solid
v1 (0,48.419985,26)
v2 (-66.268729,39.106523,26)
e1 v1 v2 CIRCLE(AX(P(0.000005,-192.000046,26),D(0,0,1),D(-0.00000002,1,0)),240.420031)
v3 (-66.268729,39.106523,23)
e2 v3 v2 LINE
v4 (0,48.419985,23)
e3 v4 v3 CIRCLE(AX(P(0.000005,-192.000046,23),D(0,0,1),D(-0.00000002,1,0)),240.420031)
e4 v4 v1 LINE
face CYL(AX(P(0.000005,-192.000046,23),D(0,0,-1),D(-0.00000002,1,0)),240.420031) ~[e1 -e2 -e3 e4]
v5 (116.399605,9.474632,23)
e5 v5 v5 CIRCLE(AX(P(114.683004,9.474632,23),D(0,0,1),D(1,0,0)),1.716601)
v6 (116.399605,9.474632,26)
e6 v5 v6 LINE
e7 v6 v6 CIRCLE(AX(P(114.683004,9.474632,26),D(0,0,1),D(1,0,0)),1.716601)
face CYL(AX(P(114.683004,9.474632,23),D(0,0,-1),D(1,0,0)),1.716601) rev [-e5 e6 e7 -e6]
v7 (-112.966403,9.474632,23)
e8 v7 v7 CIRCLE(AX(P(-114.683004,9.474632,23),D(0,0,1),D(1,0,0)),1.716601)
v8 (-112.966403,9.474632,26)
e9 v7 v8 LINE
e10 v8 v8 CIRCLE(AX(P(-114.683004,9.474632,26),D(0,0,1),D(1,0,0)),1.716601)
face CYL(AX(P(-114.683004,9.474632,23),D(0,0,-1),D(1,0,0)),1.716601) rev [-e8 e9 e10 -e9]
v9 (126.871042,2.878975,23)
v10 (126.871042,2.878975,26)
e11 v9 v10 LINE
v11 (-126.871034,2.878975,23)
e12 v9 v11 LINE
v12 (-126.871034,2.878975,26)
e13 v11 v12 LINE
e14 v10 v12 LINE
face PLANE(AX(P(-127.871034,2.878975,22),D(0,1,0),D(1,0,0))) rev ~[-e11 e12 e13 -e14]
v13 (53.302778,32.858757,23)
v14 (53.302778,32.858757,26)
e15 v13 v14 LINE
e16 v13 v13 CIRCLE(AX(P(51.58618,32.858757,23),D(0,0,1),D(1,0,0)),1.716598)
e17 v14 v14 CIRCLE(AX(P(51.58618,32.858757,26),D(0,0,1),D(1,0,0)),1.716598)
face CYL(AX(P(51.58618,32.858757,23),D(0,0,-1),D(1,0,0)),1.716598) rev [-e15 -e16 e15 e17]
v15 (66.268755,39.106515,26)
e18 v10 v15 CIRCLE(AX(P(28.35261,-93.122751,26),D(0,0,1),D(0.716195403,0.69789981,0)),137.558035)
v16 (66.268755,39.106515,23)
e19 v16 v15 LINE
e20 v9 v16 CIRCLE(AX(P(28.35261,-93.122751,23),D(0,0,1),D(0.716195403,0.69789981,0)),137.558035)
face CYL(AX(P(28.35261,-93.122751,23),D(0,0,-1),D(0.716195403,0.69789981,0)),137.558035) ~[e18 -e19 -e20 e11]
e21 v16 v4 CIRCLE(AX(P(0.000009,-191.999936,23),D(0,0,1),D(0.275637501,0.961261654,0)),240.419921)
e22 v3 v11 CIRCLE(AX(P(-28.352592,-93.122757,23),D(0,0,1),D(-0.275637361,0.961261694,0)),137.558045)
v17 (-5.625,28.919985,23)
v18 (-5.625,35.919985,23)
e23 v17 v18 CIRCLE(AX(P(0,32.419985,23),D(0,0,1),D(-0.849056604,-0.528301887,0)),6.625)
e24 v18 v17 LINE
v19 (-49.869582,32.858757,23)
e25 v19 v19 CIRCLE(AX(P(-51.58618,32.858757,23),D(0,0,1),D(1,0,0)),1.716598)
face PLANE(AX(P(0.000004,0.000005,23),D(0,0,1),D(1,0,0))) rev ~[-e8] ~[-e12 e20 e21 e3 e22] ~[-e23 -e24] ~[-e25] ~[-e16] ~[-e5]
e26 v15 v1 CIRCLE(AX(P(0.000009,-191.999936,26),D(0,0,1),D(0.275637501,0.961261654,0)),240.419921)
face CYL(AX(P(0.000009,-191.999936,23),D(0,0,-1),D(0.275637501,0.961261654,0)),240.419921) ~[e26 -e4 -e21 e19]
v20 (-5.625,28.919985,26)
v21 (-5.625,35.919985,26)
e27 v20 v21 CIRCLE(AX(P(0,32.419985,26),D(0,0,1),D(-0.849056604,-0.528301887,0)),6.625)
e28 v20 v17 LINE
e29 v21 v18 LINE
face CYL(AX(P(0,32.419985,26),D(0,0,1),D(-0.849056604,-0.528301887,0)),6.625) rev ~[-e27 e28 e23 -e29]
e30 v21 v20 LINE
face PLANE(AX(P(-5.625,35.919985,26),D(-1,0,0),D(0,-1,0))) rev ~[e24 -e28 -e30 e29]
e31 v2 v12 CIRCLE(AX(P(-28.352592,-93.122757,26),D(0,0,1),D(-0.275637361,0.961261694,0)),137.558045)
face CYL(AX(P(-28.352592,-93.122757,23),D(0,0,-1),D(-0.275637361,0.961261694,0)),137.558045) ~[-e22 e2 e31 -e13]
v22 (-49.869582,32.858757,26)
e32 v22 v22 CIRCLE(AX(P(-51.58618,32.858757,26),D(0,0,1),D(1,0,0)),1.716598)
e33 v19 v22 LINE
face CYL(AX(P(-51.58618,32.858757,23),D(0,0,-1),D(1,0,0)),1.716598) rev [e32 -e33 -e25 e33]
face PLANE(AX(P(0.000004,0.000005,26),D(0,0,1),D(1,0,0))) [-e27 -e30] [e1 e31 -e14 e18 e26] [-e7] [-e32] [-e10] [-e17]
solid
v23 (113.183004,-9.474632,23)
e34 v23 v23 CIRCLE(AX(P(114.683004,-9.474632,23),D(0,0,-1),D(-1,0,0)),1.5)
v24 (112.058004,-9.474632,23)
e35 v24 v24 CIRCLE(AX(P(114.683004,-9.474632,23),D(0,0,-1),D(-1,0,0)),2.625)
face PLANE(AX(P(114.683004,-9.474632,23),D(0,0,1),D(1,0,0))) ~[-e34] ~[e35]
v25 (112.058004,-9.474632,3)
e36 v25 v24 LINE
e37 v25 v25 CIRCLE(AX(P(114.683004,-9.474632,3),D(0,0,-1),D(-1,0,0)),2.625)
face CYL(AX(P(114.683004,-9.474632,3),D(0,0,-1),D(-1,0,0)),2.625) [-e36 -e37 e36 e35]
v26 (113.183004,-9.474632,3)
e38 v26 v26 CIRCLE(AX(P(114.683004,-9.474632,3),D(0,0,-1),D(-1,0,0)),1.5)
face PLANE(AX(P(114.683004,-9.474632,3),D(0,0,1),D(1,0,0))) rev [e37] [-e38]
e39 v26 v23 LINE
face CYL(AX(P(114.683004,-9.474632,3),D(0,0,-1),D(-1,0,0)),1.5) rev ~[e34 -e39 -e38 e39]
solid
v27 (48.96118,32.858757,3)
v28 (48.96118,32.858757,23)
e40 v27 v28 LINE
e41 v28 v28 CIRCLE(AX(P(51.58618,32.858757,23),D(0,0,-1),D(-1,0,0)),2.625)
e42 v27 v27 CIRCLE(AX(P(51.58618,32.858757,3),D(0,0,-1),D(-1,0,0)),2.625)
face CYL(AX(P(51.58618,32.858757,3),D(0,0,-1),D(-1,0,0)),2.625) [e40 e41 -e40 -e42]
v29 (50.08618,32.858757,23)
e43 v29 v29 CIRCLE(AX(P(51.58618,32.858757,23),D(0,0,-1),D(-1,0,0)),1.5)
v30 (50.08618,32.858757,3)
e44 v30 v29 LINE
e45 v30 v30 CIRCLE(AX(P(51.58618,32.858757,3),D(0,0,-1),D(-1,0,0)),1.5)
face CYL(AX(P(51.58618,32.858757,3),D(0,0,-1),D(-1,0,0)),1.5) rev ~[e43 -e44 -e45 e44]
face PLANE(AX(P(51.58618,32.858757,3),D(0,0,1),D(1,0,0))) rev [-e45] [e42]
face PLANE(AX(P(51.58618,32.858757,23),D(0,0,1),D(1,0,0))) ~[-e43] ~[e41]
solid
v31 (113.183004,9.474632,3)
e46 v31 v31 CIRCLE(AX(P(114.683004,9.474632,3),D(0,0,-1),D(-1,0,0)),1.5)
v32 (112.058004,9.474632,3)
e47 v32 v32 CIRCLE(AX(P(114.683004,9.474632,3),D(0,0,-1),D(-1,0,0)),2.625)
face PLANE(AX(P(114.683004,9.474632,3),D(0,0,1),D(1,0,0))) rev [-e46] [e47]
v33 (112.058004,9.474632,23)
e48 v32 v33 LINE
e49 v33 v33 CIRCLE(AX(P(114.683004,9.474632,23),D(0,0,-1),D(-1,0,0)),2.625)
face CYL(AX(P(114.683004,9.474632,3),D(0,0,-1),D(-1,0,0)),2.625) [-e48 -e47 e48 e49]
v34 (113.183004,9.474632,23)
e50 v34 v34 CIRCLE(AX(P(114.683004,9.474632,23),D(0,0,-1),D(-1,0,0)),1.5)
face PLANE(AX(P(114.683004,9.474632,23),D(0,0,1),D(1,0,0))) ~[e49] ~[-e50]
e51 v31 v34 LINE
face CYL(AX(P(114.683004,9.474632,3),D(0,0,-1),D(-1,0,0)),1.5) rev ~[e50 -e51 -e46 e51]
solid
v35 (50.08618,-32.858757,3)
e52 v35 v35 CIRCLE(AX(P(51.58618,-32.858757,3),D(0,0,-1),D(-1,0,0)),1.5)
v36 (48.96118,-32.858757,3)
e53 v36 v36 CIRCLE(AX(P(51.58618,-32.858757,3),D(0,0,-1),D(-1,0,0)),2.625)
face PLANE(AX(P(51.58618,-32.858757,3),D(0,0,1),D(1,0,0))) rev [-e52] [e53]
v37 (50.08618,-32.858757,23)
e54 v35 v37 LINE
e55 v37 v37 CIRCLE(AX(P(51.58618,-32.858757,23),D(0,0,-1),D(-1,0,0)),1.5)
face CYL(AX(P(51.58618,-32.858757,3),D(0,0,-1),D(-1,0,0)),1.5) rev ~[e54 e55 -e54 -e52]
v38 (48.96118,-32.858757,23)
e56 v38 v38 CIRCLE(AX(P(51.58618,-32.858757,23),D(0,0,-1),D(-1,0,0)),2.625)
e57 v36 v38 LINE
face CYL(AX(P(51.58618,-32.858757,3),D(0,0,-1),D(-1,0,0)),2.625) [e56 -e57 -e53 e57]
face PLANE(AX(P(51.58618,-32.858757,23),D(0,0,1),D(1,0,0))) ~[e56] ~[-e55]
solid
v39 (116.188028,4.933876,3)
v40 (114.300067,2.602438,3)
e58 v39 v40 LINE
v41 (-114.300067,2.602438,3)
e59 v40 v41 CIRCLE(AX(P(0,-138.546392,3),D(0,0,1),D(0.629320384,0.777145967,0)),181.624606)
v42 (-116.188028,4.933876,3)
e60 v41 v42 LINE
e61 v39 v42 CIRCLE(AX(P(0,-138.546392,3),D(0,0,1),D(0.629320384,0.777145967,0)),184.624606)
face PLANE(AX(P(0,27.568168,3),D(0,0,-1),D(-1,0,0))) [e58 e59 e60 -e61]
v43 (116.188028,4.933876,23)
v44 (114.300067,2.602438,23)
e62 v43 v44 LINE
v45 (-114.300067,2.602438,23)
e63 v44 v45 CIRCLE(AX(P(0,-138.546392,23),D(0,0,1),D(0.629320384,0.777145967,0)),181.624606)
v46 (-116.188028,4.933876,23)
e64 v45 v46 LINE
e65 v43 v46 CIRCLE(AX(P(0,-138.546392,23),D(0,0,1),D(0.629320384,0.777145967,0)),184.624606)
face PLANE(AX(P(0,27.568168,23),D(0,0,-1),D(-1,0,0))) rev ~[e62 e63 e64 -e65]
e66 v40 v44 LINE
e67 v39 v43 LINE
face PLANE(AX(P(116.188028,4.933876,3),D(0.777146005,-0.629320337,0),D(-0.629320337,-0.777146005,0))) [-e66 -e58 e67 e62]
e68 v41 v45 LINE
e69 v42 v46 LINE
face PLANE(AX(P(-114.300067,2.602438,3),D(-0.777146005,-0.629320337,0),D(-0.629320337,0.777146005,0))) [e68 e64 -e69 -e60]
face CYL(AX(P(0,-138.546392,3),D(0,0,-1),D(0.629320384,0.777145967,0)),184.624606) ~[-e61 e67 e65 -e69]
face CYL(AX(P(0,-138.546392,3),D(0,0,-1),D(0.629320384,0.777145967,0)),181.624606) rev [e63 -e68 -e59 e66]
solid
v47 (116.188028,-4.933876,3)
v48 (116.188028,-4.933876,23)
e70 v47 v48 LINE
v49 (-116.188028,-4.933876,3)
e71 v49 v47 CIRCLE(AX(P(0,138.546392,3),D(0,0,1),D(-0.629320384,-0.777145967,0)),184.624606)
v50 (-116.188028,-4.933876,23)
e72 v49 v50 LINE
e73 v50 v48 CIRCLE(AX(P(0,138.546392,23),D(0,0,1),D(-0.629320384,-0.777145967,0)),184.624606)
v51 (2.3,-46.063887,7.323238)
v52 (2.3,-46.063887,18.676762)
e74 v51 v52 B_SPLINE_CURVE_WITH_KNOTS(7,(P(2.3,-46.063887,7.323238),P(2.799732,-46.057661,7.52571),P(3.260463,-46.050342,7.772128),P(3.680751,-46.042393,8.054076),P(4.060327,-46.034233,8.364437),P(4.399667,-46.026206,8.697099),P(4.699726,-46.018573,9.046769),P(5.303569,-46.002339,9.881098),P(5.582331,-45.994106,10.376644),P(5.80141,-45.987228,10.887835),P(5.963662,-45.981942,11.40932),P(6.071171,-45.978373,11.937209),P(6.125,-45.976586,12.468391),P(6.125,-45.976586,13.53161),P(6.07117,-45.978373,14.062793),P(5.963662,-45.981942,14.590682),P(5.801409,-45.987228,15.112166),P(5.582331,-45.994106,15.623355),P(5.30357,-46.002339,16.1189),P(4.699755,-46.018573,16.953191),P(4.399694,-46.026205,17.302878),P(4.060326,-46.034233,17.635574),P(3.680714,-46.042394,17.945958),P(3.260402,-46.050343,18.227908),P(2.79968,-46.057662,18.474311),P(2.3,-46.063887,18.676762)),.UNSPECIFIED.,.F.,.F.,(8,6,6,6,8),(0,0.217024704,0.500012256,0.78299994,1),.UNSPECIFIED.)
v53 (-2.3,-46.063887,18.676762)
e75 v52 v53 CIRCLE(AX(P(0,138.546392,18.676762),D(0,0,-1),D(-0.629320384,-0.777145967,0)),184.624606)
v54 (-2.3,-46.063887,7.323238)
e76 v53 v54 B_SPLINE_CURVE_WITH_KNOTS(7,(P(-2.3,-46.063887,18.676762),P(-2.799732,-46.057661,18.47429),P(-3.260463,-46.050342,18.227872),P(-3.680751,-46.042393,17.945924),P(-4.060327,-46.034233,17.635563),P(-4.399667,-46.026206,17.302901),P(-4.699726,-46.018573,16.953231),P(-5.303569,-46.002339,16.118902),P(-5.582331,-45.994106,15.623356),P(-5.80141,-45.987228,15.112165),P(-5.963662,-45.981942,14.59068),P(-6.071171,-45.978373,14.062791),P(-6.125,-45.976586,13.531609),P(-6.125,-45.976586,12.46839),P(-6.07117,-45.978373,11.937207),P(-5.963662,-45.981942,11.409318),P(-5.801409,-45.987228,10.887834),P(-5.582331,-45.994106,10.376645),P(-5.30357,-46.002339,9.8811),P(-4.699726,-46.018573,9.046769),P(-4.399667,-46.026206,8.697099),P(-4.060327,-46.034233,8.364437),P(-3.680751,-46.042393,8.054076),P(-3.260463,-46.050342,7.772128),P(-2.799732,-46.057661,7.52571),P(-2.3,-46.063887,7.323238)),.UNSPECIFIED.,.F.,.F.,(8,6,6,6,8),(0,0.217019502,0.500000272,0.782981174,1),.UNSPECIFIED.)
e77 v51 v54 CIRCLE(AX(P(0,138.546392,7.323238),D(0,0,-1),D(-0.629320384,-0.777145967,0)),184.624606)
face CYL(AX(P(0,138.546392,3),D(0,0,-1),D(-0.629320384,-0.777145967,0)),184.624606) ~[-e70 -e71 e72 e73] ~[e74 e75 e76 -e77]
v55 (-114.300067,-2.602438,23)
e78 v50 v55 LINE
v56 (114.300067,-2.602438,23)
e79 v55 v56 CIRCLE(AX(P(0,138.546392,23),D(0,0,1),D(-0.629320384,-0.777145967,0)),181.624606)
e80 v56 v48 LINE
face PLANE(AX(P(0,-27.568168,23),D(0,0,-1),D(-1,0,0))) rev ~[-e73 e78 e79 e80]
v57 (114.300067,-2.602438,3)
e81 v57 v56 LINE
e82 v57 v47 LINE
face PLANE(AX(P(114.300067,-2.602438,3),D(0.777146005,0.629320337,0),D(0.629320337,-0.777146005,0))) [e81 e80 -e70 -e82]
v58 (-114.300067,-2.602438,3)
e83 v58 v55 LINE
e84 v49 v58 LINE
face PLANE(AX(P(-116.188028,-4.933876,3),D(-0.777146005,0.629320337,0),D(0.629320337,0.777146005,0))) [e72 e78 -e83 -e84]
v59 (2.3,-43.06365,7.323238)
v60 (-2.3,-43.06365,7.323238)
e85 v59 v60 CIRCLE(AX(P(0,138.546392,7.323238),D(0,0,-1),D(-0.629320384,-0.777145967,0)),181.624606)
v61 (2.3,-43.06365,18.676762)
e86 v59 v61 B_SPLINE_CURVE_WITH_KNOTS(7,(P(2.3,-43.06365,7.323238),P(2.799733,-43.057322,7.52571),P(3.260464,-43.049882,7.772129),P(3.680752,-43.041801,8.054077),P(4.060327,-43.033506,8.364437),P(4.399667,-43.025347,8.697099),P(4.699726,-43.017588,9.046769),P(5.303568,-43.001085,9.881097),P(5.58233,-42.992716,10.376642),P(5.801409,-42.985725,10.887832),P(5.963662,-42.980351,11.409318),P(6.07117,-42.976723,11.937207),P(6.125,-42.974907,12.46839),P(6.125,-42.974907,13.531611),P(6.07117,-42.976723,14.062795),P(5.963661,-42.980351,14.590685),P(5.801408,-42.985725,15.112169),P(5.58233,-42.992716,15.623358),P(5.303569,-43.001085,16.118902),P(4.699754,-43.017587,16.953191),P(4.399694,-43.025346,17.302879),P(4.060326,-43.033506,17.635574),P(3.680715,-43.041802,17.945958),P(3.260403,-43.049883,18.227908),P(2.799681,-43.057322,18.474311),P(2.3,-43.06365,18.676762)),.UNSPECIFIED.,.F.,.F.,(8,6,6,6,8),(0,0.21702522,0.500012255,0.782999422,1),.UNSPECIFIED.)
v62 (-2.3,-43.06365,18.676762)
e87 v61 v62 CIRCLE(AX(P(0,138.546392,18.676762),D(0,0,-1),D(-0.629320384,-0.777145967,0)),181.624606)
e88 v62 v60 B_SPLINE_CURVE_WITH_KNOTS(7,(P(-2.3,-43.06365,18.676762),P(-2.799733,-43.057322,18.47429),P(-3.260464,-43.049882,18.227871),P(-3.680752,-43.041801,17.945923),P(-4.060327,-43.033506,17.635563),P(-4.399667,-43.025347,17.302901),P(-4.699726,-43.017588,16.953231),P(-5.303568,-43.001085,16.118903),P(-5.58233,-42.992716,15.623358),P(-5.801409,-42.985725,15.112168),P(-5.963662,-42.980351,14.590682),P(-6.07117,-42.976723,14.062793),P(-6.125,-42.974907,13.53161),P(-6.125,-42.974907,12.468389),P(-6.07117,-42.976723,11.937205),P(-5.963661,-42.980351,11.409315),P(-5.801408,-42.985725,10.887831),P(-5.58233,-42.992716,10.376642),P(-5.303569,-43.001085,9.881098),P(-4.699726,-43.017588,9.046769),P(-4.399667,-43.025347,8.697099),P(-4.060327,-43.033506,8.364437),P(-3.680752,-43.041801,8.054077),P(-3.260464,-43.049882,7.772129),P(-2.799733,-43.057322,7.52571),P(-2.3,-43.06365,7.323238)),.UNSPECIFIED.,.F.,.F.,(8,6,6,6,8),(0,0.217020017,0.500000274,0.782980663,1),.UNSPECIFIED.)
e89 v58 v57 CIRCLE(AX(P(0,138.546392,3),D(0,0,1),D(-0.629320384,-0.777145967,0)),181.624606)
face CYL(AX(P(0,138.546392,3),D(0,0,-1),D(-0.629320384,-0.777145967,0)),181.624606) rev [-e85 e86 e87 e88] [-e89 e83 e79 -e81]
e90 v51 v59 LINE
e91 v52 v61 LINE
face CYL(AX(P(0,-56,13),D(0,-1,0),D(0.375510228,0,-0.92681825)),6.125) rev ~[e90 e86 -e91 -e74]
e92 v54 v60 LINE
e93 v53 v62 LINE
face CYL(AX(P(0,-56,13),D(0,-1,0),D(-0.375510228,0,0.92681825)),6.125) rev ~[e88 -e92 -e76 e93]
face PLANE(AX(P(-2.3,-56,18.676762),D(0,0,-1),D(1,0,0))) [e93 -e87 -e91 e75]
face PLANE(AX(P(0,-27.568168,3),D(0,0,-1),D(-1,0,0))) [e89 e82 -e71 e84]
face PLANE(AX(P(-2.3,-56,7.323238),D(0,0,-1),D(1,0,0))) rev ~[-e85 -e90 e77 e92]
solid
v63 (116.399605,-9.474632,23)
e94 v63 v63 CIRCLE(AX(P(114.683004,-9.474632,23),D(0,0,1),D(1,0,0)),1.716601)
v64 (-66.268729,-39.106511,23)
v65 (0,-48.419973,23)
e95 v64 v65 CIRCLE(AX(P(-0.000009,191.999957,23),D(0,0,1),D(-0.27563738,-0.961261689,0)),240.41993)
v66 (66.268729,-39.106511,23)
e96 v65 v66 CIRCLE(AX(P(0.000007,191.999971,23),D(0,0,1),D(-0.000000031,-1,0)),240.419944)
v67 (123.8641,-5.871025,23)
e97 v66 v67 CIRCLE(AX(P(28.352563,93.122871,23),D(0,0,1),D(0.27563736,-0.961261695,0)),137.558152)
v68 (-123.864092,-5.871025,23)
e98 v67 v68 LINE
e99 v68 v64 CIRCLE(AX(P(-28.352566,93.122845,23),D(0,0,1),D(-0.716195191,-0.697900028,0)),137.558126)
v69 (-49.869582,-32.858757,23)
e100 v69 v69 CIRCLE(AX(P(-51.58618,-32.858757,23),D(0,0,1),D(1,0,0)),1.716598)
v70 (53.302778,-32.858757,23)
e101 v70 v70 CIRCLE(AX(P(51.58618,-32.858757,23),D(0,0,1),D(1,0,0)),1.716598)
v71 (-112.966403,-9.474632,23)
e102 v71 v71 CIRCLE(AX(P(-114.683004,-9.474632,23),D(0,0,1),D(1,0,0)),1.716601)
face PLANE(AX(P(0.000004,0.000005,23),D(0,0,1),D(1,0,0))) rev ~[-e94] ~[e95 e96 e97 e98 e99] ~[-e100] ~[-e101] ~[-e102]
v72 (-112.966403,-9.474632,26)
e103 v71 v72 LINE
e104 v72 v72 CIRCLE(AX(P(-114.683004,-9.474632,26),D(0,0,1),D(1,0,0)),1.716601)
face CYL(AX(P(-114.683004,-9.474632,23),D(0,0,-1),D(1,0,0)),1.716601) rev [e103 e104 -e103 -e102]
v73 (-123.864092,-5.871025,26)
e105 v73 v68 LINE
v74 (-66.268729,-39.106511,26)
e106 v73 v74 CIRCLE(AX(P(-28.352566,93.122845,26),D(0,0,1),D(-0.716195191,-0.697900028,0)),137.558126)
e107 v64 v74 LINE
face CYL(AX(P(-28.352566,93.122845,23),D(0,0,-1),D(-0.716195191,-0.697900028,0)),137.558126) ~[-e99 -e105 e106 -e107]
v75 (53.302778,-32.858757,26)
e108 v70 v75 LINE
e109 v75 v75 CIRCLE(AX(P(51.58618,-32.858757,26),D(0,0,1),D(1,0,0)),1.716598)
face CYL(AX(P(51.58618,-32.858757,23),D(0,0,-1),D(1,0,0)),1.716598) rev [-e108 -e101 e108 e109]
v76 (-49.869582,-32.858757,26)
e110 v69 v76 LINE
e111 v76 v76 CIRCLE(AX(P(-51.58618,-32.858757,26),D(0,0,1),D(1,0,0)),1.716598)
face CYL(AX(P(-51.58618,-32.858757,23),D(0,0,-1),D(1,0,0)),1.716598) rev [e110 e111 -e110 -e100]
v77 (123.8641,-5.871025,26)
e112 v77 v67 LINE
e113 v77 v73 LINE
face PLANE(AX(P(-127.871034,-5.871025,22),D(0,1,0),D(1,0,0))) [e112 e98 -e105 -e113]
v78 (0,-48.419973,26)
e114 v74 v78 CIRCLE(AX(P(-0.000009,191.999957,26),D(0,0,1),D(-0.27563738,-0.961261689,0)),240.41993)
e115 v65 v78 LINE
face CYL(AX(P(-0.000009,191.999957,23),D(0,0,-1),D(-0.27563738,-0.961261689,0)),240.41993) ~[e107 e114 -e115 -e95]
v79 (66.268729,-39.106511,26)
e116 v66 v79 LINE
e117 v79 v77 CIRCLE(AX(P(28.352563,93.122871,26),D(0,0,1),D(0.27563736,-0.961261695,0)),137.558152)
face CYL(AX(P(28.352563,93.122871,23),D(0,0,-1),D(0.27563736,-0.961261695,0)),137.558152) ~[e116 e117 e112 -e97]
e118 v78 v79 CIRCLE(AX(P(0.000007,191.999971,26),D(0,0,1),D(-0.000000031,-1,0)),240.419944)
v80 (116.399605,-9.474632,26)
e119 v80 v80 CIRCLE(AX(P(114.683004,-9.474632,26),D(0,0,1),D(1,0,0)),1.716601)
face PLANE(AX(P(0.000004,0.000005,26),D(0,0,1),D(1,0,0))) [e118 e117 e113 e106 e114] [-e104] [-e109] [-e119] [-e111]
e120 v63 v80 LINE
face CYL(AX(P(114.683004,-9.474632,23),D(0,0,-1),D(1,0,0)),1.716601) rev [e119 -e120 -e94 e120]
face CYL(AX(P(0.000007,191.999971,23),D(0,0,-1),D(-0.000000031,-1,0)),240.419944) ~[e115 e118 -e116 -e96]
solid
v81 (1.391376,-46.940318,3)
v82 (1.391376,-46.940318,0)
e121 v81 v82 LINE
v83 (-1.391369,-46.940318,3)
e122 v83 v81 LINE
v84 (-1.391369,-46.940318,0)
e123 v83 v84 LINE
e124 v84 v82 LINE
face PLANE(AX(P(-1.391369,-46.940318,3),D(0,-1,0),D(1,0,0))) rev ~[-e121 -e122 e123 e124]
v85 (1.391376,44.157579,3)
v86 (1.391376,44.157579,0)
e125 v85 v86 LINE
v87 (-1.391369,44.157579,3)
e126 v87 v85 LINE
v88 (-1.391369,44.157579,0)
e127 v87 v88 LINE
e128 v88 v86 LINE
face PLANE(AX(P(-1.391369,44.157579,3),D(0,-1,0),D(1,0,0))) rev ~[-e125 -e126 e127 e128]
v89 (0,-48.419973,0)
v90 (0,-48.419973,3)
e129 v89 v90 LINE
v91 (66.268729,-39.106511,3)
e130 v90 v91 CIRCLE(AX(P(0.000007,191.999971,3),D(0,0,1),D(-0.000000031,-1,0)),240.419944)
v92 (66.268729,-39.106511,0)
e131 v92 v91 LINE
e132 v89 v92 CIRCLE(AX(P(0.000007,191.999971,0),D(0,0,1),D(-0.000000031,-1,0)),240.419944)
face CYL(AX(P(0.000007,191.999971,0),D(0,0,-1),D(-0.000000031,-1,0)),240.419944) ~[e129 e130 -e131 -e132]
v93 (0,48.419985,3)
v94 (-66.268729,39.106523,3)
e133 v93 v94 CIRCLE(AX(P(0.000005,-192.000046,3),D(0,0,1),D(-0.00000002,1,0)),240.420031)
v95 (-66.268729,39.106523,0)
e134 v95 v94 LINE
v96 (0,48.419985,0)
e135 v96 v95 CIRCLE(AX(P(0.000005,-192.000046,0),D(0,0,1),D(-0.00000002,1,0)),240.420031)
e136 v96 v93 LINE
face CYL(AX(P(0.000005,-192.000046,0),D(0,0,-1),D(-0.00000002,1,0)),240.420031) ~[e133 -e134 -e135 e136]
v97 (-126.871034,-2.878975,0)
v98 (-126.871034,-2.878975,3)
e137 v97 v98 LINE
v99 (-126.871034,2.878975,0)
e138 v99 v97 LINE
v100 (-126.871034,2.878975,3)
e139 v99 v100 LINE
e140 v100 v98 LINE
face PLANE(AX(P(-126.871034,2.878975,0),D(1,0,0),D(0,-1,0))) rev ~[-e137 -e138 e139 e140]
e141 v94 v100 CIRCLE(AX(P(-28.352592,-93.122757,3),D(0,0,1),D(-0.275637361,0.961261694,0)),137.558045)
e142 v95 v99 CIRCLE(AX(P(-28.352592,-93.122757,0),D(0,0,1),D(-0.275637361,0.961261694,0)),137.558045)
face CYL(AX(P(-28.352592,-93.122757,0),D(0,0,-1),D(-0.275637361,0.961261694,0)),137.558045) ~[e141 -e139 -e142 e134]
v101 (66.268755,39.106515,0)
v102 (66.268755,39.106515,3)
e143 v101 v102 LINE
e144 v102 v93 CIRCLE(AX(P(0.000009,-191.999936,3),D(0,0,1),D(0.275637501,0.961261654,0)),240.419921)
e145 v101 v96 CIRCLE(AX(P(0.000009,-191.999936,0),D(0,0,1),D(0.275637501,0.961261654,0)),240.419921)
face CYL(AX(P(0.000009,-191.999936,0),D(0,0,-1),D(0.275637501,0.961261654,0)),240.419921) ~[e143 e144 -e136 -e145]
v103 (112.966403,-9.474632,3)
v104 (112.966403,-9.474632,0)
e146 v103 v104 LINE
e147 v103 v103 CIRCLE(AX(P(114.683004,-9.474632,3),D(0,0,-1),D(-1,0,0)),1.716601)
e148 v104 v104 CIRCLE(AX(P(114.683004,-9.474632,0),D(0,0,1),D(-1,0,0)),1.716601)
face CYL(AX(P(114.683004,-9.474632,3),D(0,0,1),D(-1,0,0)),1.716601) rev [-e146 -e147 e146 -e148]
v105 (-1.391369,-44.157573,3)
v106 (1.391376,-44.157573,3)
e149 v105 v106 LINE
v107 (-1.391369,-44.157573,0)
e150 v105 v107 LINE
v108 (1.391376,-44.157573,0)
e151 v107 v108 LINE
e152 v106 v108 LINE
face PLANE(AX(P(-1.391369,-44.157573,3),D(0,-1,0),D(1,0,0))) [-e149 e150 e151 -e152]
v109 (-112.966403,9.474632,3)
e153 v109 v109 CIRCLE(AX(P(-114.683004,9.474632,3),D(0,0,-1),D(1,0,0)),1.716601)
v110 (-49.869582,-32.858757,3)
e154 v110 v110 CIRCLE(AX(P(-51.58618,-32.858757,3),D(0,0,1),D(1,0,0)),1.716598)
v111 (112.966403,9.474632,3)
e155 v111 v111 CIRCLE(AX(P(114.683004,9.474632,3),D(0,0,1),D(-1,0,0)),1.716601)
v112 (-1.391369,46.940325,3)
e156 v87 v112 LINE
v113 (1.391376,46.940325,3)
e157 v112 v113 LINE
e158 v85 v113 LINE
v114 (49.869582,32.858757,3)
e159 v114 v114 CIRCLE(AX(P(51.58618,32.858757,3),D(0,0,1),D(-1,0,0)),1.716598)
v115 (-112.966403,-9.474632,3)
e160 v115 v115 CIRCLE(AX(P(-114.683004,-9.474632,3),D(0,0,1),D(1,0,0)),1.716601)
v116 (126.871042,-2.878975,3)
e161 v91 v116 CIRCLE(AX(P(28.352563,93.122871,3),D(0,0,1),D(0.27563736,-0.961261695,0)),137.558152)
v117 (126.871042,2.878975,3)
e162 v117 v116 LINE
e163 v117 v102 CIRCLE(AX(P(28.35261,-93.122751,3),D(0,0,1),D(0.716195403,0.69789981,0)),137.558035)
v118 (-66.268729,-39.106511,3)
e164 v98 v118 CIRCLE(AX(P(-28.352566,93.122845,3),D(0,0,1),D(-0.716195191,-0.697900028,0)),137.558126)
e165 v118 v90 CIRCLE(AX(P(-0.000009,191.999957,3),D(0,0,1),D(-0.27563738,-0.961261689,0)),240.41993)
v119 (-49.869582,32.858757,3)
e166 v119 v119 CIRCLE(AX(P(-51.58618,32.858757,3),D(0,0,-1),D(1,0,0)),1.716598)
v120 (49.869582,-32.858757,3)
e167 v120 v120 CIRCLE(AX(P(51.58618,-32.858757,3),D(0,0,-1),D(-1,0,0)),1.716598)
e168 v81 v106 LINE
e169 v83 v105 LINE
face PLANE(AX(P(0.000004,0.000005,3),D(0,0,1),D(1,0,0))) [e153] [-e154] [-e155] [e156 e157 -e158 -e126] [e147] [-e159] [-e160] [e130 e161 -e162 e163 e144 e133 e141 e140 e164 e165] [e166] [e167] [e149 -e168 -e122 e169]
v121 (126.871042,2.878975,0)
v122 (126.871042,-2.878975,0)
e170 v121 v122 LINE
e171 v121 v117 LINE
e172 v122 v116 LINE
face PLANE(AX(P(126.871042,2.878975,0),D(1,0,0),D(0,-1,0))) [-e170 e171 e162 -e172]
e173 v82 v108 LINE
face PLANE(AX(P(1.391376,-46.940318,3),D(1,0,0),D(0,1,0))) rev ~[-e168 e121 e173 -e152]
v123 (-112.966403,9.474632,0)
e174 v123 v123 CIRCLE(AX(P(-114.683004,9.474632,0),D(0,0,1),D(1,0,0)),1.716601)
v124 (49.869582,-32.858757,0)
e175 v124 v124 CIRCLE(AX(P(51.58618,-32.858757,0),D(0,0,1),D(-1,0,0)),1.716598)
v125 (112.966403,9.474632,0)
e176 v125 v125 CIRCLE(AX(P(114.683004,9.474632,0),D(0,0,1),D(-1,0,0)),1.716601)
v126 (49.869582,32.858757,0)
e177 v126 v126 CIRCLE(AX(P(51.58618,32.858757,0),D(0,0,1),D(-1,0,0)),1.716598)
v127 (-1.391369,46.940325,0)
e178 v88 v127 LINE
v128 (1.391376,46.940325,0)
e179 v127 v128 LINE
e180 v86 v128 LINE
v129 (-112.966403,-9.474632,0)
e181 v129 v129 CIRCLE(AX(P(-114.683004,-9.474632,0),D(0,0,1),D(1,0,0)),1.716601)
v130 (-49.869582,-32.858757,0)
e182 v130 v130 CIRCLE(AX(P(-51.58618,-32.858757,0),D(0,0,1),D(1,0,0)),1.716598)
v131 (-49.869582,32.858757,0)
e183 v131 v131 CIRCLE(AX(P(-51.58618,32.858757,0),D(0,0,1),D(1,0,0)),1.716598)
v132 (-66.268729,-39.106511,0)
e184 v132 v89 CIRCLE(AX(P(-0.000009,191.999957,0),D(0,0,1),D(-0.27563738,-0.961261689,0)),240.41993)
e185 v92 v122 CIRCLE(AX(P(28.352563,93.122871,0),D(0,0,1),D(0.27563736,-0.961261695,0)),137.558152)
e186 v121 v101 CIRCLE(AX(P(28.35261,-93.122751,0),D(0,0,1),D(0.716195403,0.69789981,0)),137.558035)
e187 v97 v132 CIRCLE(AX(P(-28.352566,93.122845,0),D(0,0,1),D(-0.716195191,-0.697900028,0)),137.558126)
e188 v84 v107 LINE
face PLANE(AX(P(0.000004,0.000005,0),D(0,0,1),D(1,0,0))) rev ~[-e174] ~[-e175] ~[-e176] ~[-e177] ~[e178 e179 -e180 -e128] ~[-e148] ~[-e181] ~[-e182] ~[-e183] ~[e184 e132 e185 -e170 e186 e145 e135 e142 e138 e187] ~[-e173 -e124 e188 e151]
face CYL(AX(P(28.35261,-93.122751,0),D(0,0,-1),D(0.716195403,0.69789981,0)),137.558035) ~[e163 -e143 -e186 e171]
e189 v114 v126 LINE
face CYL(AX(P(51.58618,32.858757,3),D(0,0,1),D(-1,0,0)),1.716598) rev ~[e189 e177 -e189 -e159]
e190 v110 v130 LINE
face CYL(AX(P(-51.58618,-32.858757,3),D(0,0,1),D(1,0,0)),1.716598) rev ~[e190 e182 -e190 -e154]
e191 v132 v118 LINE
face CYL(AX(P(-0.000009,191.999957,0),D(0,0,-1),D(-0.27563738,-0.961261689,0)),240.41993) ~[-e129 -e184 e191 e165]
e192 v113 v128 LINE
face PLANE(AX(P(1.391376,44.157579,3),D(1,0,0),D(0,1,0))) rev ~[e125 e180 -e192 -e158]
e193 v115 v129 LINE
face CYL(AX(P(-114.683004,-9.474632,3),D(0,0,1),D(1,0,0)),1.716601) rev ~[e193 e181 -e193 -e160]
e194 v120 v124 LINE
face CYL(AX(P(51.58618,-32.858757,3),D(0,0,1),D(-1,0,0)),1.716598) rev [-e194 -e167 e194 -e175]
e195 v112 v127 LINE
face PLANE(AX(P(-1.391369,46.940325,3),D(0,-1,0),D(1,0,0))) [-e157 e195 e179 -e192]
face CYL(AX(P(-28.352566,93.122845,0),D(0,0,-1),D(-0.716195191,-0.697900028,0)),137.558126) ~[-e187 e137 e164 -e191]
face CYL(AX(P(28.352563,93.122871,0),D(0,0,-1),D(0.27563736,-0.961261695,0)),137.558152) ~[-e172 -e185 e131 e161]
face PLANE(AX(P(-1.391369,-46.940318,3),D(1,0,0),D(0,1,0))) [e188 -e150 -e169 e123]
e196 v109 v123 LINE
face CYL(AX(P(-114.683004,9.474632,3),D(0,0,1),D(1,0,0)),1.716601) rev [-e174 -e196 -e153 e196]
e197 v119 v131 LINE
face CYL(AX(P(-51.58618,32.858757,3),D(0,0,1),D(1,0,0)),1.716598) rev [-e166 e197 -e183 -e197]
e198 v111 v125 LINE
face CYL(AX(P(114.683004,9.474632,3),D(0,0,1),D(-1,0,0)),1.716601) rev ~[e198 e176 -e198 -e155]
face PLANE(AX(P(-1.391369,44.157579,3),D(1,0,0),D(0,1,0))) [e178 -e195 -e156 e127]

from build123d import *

# Parameters (mm, degrees)
PAD_DEPTH                = 3
SKETCH030_R              = 1.716601
SKETCH030_R_2            = 1.716598
POCKET_DEPTH             = 546.221098
SKETCH030_MIRRORED_2_R   = 1.716601
SKETCH030_MIRRORED_2_R_2 = 1.716598
POCKET_MIRRORED_2_DEPTH  = 546.221098
SKETCH031_W              = 2.782745
SKETCH031_H              = 2.782745
POCKET001_DEPTH          = 3.001
SKETCH032_R              = 2.625
SKETCH032_R_2            = 1.5
PAD001_DEPTH             = 20
SKETCH033_R              = 2.625
SKETCH033_R_2            = 1.5
PAD002_DEPTH             = 20
SKETCH034_R              = 2.625
SKETCH034_R_2            = 1.5
PAD003_DEPTH             = 20
SKETCH035_R              = 2.625
SKETCH035_R_2            = 1.5
PAD004_DEPTH             = 20
SKETCH039_W              = 255.742076
SKETCH039_H              = 8.75
PAD006_DEPTH             = 5
SKETCH037_R              = 1.716601
SKETCH037_R_2            = 1.716598
PAD005_DEPTH             = 3
POCKET002_DEPTH          = 3.001
PAD007_DEPTH             = 20
POCKET003_DEPTH          = 53.398562
PAD008_DEPTH             = 20


with BuildPart() as body_bottom:
    # Sketch029 → Pad (new body)
    with BuildSketch(Plane.XY):
        with BuildLine():
            Line((-126.871034, 2.878975), (-126.871034, -2.878975))
            ThreePointArc((-126.871034, -2.878975), (-98.933801, -24.947165), (-66.268729, -39.106511))
            ThreePointArc((-66.268729, -39.106511), (-33.459995, -46.080223), (0, -48.419973))
            ThreePointArc((0, -48.419973), (33.459994, -46.080223), (66.268729, -39.106511))
            ThreePointArc((66.268729, -39.106511), (98.933805, -24.947165), (126.871042, -2.878975))
            Line((126.871042, 2.878975), (126.871042, -2.878975))
            ThreePointArc((126.871042, 2.878975), (98.933819, 24.947168), (66.268755, 39.106515))
            ThreePointArc((66.268755, 39.106515), (33.460008, 46.080233), (0, 48.419985))
            ThreePointArc((0, 48.419985), (-33.459995, 46.080234), (-66.268729, 39.106523))
            ThreePointArc((-66.268729, 39.106523), (-98.933803, 24.947174), (-126.871034, 2.878975))
        make_face()
    extrude(amount=PAD_DEPTH)

    # Sketch030 (on Face8 of Pad) → Pocket (cut, through all)
    with BuildSketch(Plane.XY.offset(3)):
        with Locations((-114.683004, -9.474632)):
            Circle(SKETCH030_R)
        with Locations((-51.58618, -32.858757)):
            Circle(SKETCH030_R_2)
    pocket = extrude(amount=-POCKET_DEPTH, mode=Mode.SUBTRACT)

    # Sketch030 Mirrored 2 → Pocket Mirrored 2 (cut, through all)
    with BuildSketch(Plane(origin=(0, 0, 3), x_dir=(-1, 0, 0), z_dir=(0, 0, -1))):
        with Locations((-114.683004, -9.474632)):
            Circle(SKETCH030_MIRRORED_2_R)
        with Locations((-51.58618, -32.858757)):
            Circle(SKETCH030_MIRRORED_2_R_2)
    pocket_mirrored_2 = extrude(amount=POCKET_MIRRORED_2_DEPTH, mode=Mode.SUBTRACT)

    # Mirrored001: Pocket, Pocket Mirrored 2 across Sketch030 H_Axis
    add(pocket.mirror(Plane(origin=(0, 0, 3), x_dir=(0, 0, 1), z_dir=(0, 1, 0))), mode=Mode.SUBTRACT)
    add(pocket_mirrored_2.mirror(Plane(origin=(0, 0, 3), x_dir=(0, 0, 1), z_dir=(0, 1, 0))), mode=Mode.SUBTRACT)

    # Sketch031 (on Face5 of MultiTransform) → Pocket001 (cut, through all)
    with BuildSketch(Plane.XY.offset(3)):
        with Locations((3e-06, 45.548952)):
            Rectangle(SKETCH031_W, SKETCH031_H)
        with Locations((3e-06, -45.548946)):
            Rectangle(SKETCH031_W, SKETCH031_H)
    extrude(amount=-POCKET001_DEPTH, mode=Mode.SUBTRACT)


with BuildPart() as body004:
    # Sketch032 → Pad001 (new body)
    with BuildSketch(Plane.XY.offset(3)):
        with Locations((-114.683004, 9.474632)):
            Circle(SKETCH032_R)
        with Locations((-114.683004, 9.474632)):
            Circle(SKETCH032_R_2, mode=Mode.SUBTRACT)
    extrude(amount=PAD001_DEPTH)


with BuildPart() as part_mirroring:
    # Part__Mirroring: instance of Body004
    add(body004.part.mirror(Plane(origin=(0, 0, 0), x_dir=(0, -1, 0), z_dir=(1, 0, 0))))


with BuildPart() as body005:
    # Sketch033 → Pad002 (new body)
    with BuildSketch(Plane.XY.offset(3)):
        with Locations((-114.683004, -9.474632)):
            Circle(SKETCH033_R)
        with Locations((-114.683004, -9.474632)):
            Circle(SKETCH033_R_2, mode=Mode.SUBTRACT)
    extrude(amount=PAD002_DEPTH)


with BuildPart() as part_mirroring001:
    # Part__Mirroring001: instance of Body005
    add(body005.part.mirror(Plane(origin=(0, 0, 0), x_dir=(0, -1, 0), z_dir=(1, 0, 0))))


with BuildPart() as body006:
    # Sketch034 → Pad003 (new body)
    with BuildSketch(Plane.XY.offset(3)):
        with Locations((-51.58618, 32.858757)):
            Circle(SKETCH034_R)
        with Locations((-51.58618, 32.858757)):
            Circle(SKETCH034_R_2, mode=Mode.SUBTRACT)
    extrude(amount=PAD003_DEPTH)


with BuildPart() as part_mirroring002:
    # Part__Mirroring002: instance of Body006
    add(body006.part.mirror(Plane(origin=(0, 0, 0), x_dir=(0, -1, 0), z_dir=(1, 0, 0))))


with BuildPart() as body007:
    # Sketch035 → Pad004 (new body)
    with BuildSketch(Plane.XY.offset(3)):
        with Locations((-51.58618, -32.858757)):
            Circle(SKETCH035_R)
        with Locations((-51.58618, -32.858757)):
            Circle(SKETCH035_R_2, mode=Mode.SUBTRACT)
    extrude(amount=PAD004_DEPTH)


with BuildPart() as part_mirroring003:
    # Part__Mirroring003: instance of Body007
    add(body007.part.mirror(Plane(origin=(0, 0, 0), x_dir=(0, -1, 0), z_dir=(1, 0, 0))))


with BuildPart() as body008:
    # Sketch039 → Pad006 (new body)
    with BuildSketch(Plane.XY):
        with Locations((4e-06, -1.496025)):
            Rectangle(SKETCH039_W, SKETCH039_H)
    extrude(amount=PAD006_DEPTH)


with BuildPart() as body008_1:
    # Body008 placement: moved
    add(body008.part.moved(Location((0, 0, 22))))


with BuildPart() as cut:
    # Sketch037 → Pad005 (new body)
    with BuildSketch(Plane.XY):
        with BuildLine():
            ThreePointArc((-66.268729, 39.106523), (-98.933803, 24.947174), (-126.871034, 2.878975))
            Line((-126.871034, -2.878975), (-126.871034, 2.878975))
            ThreePointArc((-126.871034, -2.878975), (-98.933801, -24.947165), (-66.268729, -39.106511))
            ThreePointArc((-66.268729, -39.106511), (-33.459995, -46.080223), (0, -48.419973))
            ThreePointArc((0, -48.419973), (33.459994, -46.080223), (66.268729, -39.106511))
            ThreePointArc((66.268729, -39.106511), (98.933805, -24.947165), (126.871042, -2.878975))
            Line((126.871042, -2.878975), (126.871042, 2.878975))
            ThreePointArc((126.871042, 2.878975), (98.933819, 24.947168), (66.268755, 39.106515))
            ThreePointArc((66.268755, 39.106515), (33.460008, 46.080233), (0, 48.419985))
            ThreePointArc((0, 48.419985), (-33.459995, 46.080234), (-66.268729, 39.106523))
        make_face()
        with Locations((114.683004, 9.474632)):
            Circle(SKETCH037_R, mode=Mode.SUBTRACT)
        with Locations((114.683004, -9.474632)):
            Circle(SKETCH037_R, mode=Mode.SUBTRACT)
        with Locations((51.58618, 32.858757)):
            Circle(SKETCH037_R_2, mode=Mode.SUBTRACT)
        with Locations((-51.58618, 32.858757)):
            Circle(SKETCH037_R_2, mode=Mode.SUBTRACT)
        with Locations((-114.683004, 9.474632)):
            Circle(SKETCH037_R, mode=Mode.SUBTRACT)
        with Locations((-114.683004, -9.474632)):
            Circle(SKETCH037_R, mode=Mode.SUBTRACT)
        with Locations((-51.58618, -32.858757)):
            Circle(SKETCH037_R_2, mode=Mode.SUBTRACT)
        with Locations((51.58618, -32.858757)):
            Circle(SKETCH037_R_2, mode=Mode.SUBTRACT)
    extrude(amount=PAD005_DEPTH)

    # Sketch038 (on Face16 of Pad005) → Pocket002 (cut, through all)
    with BuildSketch(Plane.XY.offset(3)):
        with BuildLine():
            ThreePointArc((-5.625, 28.919985), (6.625, 32.419985), (-5.625, 35.919985))
            Line((-5.625, 35.919985), (-5.625, 28.919985))
        make_face()
    extrude(amount=-POCKET002_DEPTH, mode=Mode.SUBTRACT)


with BuildPart() as cut_1:
    # Body003 placement: moved
    add(cut.part.moved(Location((0, 0, 23))))

    # Cut: cut Body008
    add(body008_1.part, mode=Mode.SUBTRACT)


with BuildPart() as body009:
    # Sketch040 → Pad007 (new body)
    with BuildSketch(Plane.XY.offset(3)):
        with BuildLine():
            Line((114.300067, -2.602438), (116.188028, -4.933876))
            ThreePointArc((-116.188028, -4.933876), (0, -46.078214), (116.188028, -4.933876))
            Line((-116.188028, -4.933876), (-114.300067, -2.602438))
            ThreePointArc((-114.300067, -2.602438), (0, -43.078214), (114.300067, -2.602438))
        make_face()
    extrude(amount=PAD007_DEPTH)

    # Sketch042 → Pocket003 (cut, through all)
    with BuildSketch(Plane.XZ.offset(56)):
        with BuildLine():
            ThreePointArc((2.3, 7.323238), (6.125, 13), (2.3, 18.676762))
            Line((-2.3, 18.676762), (2.3, 18.676762))
            ThreePointArc((-2.3, 18.676762), (-6.125, 13), (-2.3, 7.323238))
            Line((-2.3, 7.323238), (2.3, 7.323238))
        make_face()
    extrude(amount=-POCKET003_DEPTH, mode=Mode.SUBTRACT)


with BuildPart() as body010:
    # Sketch041 → Pad008 (new body)
    with BuildSketch(Plane.XY.offset(3)):
        with BuildLine():
            Line((-114.300067, 2.602438), (-116.188028, 4.933876))
            ThreePointArc((116.188028, 4.933876), (0, 46.078214), (-116.188028, 4.933876))
            Line((116.188028, 4.933876), (114.300067, 2.602438))
            ThreePointArc((114.300067, 2.602438), (0, 43.078214), (-114.300067, 2.602438))
        make_face()
    extrude(amount=PAD008_DEPTH)


solid = Compound([body_bottom.part, part_mirroring.part, part_mirroring001.part, part_mirroring002.part, part_mirroring003.part, cut_1.part, body009.part, body010.part])
